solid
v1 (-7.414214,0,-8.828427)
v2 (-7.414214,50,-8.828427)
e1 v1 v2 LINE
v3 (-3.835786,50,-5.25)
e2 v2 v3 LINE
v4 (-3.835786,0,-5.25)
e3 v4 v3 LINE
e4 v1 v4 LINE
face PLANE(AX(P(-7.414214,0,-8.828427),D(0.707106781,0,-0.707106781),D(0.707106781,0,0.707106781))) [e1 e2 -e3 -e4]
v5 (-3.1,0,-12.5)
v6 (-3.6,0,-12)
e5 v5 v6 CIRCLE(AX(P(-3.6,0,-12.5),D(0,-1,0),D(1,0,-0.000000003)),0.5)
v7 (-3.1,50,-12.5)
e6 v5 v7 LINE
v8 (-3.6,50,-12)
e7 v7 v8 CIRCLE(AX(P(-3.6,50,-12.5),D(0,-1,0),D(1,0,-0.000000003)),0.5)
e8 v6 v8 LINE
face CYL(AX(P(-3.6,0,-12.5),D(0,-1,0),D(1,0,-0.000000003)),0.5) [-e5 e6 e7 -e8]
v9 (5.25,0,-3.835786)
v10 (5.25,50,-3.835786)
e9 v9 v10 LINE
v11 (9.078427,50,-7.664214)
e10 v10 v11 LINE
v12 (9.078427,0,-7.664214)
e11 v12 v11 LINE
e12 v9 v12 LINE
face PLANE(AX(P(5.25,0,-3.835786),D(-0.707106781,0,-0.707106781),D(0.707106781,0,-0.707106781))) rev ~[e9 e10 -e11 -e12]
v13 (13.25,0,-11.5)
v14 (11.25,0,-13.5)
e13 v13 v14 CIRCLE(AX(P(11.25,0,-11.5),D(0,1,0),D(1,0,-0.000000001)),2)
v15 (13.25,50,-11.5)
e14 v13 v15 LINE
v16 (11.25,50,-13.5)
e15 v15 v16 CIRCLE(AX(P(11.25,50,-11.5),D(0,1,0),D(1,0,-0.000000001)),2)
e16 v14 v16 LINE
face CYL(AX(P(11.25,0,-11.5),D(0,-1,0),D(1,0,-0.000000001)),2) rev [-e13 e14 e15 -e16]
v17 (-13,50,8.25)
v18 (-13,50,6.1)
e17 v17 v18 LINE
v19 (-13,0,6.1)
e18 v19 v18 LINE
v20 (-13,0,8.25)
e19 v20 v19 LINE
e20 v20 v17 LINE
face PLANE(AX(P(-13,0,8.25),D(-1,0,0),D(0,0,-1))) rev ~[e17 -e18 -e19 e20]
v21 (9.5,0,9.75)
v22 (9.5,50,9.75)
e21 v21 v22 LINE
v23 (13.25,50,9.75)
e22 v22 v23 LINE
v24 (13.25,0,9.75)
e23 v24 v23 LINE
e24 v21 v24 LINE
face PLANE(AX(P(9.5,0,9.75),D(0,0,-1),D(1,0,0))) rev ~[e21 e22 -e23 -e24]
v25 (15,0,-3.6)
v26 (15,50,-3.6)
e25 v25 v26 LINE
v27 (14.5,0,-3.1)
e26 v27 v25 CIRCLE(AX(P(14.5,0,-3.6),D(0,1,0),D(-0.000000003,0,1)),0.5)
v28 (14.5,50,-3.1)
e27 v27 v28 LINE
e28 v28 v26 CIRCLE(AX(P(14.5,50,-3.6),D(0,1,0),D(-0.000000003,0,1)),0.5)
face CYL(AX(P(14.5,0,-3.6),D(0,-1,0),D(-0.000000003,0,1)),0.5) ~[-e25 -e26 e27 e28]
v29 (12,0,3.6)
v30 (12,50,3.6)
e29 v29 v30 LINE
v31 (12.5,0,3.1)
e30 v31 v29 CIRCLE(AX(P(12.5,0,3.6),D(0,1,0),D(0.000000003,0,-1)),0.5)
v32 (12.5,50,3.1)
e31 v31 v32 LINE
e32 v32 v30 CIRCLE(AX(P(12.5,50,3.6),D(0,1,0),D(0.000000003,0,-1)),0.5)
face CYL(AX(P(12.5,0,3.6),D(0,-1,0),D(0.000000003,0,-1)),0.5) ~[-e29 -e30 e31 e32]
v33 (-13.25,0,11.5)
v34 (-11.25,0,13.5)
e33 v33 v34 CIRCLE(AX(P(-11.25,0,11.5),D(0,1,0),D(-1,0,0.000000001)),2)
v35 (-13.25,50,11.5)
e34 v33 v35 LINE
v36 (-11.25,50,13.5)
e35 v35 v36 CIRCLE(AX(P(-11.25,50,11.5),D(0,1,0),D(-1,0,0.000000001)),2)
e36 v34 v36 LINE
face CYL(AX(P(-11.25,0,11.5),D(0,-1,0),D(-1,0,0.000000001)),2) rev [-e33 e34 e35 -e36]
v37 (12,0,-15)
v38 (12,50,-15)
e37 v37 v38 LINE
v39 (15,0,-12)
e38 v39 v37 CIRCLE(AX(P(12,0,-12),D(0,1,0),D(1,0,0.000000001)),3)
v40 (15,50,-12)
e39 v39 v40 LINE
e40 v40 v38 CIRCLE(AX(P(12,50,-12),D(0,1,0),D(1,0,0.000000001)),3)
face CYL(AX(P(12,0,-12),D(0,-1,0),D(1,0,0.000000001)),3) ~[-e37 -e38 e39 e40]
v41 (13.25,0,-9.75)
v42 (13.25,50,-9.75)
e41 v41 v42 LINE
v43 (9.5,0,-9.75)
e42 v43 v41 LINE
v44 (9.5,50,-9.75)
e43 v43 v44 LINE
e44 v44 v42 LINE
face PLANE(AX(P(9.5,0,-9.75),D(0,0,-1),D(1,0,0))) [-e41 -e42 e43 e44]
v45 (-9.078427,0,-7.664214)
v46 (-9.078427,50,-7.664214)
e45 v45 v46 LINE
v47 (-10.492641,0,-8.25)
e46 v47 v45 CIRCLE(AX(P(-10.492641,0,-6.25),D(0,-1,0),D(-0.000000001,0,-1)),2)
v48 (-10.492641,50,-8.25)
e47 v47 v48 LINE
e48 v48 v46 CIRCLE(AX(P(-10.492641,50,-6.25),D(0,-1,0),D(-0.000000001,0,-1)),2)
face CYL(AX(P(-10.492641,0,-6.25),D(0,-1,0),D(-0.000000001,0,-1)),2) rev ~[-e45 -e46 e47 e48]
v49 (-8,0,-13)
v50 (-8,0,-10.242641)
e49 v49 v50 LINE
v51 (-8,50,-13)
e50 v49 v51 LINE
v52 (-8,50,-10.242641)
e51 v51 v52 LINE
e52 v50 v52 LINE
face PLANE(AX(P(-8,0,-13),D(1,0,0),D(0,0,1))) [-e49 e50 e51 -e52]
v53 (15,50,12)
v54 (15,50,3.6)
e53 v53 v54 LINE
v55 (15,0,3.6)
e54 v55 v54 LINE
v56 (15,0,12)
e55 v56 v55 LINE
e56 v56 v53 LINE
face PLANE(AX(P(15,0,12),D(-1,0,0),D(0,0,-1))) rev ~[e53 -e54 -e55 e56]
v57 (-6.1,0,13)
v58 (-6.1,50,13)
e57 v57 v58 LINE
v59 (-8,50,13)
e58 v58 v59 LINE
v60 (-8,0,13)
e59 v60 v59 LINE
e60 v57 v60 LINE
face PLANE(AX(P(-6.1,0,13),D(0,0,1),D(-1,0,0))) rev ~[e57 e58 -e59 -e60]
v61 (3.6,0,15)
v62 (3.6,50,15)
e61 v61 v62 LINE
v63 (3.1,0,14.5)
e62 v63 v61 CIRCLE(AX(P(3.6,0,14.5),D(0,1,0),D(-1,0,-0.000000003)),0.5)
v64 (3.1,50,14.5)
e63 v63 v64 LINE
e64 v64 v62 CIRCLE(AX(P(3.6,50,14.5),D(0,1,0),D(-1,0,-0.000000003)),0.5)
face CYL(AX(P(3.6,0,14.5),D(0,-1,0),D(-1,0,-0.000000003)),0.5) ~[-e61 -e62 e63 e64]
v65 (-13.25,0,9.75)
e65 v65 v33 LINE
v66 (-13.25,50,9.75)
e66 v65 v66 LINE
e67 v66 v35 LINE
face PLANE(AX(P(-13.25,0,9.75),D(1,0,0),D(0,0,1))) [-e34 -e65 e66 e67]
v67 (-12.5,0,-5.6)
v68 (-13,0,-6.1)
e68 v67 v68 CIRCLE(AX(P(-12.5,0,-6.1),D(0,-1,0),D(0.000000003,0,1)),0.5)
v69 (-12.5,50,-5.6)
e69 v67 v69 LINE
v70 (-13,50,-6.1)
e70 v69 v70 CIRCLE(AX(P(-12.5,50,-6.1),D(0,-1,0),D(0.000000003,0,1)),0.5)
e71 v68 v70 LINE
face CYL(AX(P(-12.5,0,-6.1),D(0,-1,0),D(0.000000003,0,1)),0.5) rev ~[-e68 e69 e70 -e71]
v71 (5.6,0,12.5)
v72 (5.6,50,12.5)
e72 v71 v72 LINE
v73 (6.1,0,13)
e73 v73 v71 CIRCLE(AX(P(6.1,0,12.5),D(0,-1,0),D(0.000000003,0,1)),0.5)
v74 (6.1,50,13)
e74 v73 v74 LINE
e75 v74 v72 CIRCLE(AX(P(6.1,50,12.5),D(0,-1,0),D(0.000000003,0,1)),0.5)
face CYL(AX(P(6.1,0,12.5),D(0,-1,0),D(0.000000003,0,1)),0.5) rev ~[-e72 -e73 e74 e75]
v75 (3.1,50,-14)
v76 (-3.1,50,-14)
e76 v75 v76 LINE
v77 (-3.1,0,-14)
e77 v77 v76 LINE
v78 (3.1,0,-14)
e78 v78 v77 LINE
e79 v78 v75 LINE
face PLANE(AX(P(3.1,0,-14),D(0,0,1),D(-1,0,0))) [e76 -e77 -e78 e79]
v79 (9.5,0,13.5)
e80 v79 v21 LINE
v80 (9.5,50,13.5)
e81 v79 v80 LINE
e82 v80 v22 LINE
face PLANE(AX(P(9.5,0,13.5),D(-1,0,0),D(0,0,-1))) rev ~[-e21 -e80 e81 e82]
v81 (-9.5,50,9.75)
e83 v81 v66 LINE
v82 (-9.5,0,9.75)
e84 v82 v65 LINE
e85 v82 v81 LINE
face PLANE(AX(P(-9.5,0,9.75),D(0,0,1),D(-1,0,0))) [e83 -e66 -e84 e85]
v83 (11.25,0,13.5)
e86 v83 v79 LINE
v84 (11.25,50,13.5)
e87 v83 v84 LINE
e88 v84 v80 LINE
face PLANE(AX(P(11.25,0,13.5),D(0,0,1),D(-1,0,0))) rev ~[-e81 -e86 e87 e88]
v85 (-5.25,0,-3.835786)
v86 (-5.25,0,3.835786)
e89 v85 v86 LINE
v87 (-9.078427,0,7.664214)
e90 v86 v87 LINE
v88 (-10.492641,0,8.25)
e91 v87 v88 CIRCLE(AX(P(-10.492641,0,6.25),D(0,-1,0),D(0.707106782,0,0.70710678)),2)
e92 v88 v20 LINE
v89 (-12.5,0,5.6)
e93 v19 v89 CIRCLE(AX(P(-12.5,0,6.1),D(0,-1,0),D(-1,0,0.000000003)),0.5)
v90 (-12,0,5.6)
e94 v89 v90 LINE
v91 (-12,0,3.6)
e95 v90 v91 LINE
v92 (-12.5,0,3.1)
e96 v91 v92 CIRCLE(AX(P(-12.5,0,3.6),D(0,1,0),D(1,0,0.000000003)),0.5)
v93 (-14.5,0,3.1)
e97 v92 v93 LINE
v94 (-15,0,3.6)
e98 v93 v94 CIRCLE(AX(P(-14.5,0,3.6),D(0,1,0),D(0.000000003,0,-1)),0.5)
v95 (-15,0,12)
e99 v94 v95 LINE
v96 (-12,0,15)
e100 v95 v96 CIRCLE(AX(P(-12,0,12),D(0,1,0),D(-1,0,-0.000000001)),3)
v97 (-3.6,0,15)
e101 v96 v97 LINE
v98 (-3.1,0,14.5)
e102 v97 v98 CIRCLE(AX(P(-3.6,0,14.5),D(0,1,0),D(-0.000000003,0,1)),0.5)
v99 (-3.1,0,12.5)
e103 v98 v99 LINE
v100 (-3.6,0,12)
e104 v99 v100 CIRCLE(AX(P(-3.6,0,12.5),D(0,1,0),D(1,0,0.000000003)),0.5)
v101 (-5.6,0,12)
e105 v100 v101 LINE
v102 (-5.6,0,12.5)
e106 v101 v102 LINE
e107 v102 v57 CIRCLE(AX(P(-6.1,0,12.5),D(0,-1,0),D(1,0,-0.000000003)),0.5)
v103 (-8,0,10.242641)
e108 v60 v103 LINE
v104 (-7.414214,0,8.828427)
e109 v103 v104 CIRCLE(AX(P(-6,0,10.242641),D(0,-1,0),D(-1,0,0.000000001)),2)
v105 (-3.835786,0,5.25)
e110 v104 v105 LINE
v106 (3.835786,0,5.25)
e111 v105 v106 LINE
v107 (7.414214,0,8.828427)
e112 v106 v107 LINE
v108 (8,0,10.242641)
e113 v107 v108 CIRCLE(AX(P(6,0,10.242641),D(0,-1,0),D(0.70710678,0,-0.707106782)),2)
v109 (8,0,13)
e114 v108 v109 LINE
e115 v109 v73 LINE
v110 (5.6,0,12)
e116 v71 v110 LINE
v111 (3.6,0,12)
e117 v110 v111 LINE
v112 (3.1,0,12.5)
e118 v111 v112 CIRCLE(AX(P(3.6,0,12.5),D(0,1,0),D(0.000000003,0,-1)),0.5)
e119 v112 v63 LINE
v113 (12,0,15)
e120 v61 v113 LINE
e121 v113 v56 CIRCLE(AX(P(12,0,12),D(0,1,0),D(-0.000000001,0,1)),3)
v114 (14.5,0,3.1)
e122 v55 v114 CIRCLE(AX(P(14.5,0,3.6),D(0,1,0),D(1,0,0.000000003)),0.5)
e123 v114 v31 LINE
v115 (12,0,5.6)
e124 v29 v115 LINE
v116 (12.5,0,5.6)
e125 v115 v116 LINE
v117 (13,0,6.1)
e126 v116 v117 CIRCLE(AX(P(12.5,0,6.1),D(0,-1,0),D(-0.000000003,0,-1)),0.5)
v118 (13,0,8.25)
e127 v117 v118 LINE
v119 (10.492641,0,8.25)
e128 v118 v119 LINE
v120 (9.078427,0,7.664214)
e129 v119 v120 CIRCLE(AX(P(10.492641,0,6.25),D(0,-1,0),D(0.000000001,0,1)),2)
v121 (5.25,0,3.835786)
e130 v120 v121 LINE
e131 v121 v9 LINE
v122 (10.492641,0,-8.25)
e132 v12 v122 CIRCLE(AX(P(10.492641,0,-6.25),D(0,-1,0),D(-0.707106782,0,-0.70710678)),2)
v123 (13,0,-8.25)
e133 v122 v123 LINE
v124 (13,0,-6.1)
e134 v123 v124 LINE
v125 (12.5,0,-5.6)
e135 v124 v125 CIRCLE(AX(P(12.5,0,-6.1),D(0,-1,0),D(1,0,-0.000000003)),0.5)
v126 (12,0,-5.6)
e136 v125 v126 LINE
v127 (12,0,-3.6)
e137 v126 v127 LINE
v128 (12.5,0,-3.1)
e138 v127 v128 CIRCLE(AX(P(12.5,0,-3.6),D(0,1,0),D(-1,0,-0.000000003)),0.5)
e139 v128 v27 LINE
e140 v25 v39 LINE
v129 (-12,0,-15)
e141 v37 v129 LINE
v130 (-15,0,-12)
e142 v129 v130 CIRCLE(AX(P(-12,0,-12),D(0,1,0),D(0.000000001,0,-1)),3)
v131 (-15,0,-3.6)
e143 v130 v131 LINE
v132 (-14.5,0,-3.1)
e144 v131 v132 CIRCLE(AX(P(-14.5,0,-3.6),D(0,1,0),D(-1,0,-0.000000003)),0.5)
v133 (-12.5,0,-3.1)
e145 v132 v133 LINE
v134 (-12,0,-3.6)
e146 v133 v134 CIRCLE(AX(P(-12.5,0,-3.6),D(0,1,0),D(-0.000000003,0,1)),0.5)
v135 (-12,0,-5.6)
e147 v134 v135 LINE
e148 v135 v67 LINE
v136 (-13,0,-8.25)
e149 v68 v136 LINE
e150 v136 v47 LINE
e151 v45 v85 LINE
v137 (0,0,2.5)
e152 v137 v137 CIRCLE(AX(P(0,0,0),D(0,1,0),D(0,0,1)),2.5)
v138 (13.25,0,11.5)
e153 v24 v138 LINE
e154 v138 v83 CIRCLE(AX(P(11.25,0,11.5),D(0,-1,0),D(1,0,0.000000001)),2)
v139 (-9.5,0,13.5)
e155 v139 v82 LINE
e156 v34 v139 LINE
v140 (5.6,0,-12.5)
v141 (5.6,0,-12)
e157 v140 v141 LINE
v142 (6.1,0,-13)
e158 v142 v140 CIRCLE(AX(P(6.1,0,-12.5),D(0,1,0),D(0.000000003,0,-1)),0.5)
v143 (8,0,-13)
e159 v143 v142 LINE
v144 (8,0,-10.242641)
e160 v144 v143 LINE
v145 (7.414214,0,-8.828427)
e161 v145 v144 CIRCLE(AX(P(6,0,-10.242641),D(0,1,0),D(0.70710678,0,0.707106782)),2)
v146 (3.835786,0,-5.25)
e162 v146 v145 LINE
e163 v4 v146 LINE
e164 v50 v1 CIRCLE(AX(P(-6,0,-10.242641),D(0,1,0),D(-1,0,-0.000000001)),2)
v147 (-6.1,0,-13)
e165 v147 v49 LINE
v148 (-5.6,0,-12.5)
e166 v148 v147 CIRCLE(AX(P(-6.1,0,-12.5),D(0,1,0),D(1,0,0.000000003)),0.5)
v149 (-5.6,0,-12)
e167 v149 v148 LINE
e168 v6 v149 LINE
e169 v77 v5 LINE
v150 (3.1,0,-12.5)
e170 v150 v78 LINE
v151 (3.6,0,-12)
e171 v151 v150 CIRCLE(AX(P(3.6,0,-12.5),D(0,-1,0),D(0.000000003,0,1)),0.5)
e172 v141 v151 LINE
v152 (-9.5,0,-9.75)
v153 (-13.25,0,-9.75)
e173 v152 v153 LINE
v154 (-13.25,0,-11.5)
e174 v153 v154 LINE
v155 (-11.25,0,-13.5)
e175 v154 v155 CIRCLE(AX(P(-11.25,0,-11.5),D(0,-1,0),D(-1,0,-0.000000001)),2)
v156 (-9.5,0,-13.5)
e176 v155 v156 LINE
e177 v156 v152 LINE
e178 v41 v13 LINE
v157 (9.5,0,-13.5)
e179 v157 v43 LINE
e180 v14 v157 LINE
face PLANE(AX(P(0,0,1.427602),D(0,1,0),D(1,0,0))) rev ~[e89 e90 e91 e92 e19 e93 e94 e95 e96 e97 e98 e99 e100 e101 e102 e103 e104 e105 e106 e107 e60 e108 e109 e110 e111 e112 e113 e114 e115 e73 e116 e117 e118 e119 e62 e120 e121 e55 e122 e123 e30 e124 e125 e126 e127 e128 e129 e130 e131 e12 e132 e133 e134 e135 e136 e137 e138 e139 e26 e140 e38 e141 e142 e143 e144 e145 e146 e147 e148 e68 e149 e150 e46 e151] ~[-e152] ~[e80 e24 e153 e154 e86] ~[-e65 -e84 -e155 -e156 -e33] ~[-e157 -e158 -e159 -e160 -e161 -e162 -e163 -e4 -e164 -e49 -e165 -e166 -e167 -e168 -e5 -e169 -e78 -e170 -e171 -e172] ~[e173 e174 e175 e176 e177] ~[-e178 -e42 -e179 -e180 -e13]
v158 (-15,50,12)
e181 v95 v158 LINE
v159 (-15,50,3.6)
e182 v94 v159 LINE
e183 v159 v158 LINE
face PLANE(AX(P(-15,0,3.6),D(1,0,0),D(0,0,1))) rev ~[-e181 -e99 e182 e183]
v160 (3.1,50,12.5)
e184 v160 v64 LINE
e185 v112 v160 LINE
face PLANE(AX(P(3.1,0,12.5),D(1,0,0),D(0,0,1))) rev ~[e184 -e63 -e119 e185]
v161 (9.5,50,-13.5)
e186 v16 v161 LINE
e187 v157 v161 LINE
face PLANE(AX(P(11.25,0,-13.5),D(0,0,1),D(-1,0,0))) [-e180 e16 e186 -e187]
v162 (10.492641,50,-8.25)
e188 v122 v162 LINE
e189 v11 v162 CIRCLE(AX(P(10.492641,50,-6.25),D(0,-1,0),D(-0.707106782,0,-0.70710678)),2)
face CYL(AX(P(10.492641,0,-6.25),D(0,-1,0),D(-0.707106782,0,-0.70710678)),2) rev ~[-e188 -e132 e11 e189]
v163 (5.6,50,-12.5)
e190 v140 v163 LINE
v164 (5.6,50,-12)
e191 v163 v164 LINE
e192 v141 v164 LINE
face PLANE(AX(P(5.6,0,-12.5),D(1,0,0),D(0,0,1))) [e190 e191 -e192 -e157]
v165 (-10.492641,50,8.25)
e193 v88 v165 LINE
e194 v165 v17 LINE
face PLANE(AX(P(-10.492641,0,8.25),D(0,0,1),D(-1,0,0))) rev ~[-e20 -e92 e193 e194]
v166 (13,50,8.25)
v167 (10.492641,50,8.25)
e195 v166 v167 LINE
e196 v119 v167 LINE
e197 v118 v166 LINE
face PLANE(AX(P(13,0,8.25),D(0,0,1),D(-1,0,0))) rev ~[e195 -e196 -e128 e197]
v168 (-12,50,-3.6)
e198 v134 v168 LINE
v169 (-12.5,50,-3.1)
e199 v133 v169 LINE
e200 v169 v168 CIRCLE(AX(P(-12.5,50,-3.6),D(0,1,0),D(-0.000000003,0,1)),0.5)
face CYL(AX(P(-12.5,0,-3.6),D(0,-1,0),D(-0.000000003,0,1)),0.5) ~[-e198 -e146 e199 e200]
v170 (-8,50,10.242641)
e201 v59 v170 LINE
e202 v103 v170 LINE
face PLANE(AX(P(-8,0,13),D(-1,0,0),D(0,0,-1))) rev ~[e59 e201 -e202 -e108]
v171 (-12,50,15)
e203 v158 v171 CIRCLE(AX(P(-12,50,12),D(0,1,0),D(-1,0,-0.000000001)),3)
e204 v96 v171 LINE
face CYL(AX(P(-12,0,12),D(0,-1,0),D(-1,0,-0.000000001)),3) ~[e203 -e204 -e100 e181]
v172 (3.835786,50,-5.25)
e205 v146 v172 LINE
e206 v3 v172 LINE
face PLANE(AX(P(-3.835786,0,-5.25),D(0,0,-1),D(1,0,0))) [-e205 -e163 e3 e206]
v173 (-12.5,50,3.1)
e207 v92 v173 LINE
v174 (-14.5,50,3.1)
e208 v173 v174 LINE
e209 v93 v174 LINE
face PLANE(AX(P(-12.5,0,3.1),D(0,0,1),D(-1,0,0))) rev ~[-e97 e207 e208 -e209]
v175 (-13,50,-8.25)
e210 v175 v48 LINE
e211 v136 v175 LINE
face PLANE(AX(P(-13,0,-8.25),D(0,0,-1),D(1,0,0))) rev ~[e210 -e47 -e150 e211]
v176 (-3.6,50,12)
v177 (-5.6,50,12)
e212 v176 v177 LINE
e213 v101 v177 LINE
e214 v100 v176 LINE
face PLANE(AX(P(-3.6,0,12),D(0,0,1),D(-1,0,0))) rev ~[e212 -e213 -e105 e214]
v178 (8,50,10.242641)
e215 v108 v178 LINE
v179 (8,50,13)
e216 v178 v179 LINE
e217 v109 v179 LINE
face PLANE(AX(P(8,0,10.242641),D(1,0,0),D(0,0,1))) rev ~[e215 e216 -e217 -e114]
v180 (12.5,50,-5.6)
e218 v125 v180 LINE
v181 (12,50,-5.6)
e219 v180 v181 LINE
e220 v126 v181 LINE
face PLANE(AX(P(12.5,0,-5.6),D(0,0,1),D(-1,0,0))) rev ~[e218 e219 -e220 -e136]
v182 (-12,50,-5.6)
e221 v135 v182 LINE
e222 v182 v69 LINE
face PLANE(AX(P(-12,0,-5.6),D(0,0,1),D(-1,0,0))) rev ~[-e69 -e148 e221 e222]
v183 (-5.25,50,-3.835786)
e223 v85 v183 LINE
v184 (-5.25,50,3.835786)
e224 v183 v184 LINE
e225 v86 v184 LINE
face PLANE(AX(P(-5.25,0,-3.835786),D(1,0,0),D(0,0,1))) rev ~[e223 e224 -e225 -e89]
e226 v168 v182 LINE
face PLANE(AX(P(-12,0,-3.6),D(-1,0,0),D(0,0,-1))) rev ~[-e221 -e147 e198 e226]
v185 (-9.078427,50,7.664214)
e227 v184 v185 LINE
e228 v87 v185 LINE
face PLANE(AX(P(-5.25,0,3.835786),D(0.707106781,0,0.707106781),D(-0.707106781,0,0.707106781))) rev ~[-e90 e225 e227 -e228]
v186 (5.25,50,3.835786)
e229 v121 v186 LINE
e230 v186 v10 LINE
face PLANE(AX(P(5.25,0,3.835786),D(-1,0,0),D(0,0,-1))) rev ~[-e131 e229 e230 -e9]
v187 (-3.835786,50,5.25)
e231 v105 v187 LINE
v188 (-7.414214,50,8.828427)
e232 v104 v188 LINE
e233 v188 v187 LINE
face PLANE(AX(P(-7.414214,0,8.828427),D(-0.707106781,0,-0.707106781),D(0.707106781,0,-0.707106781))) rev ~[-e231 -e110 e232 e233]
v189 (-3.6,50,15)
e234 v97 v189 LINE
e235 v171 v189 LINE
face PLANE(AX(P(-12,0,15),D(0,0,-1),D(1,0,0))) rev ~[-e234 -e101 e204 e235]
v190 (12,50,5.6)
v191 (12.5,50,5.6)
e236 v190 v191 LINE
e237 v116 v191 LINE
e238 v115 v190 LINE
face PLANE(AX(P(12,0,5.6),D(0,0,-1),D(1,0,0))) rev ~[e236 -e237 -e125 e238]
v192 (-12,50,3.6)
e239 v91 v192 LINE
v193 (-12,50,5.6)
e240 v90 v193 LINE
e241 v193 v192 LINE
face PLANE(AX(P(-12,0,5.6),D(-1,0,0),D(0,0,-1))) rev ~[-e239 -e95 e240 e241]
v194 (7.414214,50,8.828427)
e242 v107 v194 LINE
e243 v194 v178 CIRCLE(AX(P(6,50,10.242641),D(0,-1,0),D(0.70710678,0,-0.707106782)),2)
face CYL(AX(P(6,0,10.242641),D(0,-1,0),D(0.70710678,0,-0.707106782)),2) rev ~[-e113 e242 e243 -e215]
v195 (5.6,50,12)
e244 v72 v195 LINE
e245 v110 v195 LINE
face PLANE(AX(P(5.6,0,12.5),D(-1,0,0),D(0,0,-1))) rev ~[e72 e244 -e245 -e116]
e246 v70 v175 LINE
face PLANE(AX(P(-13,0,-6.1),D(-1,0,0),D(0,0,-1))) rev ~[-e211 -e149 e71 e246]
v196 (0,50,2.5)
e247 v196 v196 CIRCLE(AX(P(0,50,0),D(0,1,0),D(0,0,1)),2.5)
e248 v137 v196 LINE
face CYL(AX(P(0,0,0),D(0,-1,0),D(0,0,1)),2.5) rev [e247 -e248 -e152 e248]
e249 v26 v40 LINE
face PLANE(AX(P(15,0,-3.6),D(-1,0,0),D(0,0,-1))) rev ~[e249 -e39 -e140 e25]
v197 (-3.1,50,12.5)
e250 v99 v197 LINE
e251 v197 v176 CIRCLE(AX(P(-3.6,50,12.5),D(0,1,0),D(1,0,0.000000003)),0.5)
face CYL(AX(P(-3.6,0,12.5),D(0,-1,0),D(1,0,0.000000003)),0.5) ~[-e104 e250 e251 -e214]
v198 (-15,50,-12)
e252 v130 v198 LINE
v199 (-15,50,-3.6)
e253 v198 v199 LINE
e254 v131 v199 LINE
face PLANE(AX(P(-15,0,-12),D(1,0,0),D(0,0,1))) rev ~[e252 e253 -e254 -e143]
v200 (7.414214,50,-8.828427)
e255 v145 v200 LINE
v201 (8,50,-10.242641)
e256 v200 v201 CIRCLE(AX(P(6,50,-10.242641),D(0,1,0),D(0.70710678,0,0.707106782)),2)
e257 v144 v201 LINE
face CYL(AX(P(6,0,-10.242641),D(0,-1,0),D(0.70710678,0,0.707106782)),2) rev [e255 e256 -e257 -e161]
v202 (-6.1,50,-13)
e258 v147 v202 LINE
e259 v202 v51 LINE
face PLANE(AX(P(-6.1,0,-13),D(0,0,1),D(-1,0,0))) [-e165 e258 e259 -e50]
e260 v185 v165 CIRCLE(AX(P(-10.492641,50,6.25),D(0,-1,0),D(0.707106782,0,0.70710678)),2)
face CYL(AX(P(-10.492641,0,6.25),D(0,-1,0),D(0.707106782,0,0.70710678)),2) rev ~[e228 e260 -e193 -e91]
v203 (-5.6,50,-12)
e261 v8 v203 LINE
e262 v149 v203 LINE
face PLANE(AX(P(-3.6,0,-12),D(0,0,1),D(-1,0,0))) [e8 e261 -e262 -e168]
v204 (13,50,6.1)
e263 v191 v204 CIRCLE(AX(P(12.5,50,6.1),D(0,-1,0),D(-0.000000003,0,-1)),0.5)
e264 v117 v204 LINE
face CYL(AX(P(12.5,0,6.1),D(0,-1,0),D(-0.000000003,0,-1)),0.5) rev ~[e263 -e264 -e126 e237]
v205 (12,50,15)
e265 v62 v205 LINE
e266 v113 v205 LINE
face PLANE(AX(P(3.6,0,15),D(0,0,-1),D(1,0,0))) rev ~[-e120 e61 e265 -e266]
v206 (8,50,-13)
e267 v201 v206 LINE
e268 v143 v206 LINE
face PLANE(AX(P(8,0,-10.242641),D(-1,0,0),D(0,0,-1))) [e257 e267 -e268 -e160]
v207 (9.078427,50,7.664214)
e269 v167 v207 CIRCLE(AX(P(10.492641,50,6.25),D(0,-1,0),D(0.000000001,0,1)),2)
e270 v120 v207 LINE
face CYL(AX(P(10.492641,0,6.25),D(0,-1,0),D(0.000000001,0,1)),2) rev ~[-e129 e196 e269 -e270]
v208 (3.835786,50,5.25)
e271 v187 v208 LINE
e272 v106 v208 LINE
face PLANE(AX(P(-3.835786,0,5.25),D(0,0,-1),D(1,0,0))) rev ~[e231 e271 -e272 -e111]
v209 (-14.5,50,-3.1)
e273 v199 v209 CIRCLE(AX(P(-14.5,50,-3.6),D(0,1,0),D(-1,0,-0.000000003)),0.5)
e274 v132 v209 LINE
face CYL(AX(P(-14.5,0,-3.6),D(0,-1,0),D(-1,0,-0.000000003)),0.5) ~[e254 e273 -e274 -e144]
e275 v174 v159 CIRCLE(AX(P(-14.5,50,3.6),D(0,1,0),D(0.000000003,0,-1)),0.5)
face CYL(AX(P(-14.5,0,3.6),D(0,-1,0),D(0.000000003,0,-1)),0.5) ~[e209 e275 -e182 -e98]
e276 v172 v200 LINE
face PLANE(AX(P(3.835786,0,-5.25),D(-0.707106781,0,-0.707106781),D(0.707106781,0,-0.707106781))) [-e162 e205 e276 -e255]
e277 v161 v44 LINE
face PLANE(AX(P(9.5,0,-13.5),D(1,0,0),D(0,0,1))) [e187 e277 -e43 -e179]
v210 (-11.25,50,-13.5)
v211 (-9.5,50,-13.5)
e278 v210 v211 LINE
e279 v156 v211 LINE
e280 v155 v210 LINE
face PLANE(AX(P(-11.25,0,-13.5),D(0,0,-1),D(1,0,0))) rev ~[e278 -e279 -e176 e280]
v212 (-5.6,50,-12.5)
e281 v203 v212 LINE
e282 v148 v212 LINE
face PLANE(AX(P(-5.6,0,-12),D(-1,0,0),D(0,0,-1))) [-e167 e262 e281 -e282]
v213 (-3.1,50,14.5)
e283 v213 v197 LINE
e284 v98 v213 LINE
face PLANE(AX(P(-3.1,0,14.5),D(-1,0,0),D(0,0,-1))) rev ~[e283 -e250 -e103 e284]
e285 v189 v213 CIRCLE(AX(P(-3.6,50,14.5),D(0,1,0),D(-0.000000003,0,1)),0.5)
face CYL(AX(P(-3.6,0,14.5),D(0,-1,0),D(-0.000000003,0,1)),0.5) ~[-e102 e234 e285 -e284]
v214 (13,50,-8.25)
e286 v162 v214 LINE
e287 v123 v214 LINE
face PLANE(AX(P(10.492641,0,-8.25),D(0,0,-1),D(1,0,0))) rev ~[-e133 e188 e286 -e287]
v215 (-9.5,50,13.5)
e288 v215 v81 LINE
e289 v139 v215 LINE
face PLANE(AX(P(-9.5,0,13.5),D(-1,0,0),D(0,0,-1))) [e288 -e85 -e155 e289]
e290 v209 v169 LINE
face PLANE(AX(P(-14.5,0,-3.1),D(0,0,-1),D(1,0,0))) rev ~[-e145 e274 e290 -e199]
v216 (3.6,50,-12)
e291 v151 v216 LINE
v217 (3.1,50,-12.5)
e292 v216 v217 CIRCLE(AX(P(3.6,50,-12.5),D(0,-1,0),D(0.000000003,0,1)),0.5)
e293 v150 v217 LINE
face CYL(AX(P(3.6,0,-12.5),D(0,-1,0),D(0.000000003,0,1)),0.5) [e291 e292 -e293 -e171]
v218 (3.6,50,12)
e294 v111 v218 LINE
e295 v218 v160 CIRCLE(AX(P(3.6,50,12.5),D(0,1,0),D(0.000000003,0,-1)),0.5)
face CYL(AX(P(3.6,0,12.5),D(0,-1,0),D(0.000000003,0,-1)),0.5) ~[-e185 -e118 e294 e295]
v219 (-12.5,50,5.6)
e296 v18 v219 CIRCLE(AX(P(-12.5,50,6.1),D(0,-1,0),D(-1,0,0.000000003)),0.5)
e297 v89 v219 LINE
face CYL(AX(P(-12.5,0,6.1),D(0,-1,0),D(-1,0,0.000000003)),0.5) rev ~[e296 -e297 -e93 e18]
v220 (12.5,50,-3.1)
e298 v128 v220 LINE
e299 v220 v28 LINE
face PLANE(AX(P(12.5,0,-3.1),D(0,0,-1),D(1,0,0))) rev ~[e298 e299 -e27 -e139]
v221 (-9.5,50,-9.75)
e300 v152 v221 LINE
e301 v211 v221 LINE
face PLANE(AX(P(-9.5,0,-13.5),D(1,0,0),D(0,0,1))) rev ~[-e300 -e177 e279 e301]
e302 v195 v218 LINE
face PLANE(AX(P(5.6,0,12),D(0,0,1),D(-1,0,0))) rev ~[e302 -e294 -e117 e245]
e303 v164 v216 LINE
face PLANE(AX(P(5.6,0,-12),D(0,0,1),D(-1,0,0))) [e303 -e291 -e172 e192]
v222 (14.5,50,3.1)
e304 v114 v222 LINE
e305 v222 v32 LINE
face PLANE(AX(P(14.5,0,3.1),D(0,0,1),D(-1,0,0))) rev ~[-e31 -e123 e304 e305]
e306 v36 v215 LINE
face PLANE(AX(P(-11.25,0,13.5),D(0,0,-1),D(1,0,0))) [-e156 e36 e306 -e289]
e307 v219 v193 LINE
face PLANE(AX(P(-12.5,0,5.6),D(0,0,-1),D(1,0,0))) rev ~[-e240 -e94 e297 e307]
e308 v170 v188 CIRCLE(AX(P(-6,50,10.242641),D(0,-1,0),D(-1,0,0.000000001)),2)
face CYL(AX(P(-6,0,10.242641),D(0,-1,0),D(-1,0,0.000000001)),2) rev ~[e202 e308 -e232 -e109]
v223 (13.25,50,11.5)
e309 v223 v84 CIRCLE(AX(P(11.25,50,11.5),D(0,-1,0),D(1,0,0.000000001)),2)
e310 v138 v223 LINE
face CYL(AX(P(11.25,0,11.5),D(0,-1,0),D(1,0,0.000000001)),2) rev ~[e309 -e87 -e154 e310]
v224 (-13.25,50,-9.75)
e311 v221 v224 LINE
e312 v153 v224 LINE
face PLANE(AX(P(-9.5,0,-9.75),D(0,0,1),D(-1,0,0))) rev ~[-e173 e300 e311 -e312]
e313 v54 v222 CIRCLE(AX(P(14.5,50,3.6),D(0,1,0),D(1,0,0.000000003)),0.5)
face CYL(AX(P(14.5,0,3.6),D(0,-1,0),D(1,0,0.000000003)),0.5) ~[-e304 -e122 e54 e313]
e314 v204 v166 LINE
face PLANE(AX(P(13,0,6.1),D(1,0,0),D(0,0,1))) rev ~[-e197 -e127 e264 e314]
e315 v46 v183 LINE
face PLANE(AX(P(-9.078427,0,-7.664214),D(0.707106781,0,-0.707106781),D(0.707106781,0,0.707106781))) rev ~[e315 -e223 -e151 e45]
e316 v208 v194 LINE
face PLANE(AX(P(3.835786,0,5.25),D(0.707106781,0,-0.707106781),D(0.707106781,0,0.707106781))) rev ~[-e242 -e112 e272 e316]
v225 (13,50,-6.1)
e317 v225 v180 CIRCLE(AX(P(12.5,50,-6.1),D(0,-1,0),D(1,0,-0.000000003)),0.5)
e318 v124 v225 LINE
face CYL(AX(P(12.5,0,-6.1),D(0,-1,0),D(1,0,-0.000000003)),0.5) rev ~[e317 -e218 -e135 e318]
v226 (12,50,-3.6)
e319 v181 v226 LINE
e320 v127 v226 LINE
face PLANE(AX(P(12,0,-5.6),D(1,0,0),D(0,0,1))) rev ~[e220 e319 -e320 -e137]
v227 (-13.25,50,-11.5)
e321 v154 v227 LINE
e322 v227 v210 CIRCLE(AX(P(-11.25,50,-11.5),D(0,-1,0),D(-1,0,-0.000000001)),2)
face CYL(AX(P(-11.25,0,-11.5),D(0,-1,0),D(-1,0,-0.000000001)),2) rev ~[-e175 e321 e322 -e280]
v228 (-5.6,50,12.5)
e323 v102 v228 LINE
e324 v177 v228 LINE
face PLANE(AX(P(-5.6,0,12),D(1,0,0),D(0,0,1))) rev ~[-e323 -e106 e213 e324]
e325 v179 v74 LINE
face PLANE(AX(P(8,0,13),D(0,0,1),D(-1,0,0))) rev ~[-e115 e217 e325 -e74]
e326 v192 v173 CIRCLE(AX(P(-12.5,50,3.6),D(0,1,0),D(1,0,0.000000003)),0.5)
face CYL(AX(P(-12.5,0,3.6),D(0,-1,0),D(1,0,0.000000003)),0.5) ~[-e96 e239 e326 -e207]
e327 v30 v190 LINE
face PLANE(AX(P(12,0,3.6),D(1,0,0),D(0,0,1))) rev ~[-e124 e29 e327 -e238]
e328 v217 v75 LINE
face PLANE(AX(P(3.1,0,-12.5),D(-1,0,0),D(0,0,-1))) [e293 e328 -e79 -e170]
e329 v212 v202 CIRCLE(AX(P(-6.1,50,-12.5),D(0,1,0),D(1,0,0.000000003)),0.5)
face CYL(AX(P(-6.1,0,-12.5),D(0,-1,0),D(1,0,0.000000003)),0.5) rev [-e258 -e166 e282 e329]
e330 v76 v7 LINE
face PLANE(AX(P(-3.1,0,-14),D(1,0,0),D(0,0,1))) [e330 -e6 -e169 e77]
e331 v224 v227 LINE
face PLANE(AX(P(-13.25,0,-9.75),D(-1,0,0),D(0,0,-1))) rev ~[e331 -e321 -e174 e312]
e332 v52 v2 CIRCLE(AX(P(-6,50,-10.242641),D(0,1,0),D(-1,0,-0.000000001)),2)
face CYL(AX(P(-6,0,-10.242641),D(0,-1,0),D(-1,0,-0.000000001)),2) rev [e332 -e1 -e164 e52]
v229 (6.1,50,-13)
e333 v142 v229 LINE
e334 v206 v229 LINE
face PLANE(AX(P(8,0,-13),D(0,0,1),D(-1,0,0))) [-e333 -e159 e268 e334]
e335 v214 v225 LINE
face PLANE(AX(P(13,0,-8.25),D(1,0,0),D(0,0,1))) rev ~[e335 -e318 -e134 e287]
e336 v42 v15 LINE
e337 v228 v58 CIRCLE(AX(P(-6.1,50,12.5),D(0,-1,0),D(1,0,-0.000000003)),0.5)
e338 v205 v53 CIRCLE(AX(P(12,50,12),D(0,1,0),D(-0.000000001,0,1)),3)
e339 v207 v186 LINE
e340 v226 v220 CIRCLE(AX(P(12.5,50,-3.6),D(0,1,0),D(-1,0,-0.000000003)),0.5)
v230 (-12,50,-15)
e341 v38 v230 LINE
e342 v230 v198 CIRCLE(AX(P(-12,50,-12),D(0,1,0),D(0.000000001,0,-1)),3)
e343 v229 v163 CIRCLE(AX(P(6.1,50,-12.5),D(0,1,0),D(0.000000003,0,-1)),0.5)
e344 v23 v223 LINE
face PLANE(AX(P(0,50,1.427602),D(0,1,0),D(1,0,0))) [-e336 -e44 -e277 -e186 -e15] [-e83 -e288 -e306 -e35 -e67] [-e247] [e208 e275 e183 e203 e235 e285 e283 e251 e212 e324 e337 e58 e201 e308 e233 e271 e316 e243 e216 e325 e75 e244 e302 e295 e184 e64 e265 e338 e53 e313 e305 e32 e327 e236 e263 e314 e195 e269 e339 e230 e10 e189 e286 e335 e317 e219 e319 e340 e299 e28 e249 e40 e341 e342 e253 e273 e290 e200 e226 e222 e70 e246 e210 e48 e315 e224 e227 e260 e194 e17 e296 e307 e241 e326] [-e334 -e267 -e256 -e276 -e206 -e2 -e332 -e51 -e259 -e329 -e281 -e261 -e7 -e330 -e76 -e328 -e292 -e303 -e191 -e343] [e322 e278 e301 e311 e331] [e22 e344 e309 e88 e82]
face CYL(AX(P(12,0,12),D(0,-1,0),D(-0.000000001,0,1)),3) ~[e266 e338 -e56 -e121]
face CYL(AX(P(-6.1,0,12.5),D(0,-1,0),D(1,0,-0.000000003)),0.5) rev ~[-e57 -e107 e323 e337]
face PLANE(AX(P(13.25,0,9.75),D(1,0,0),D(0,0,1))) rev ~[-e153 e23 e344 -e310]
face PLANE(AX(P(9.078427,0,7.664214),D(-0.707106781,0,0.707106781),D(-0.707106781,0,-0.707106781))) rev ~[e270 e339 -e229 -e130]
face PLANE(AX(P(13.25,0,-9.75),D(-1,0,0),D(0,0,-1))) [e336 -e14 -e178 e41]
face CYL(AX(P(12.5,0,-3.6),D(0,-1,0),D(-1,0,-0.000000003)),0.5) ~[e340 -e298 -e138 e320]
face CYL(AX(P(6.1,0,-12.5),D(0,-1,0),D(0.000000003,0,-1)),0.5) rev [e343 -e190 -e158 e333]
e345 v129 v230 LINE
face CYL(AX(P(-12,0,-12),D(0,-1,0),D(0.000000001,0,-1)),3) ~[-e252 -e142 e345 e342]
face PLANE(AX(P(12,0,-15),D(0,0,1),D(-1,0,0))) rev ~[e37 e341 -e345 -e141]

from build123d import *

# Parameters (mm, degrees)
SKETCH2_R           = 2.5
BOSS_EXTRUDE1_DEPTH = 50


with BuildPart() as part:
    # Sketch2 → Boss-Extrude1 (new body)
    with BuildSketch(Plane(origin=(0, 0, 0), x_dir=(1, 0, 0), z_dir=(0, 1, 0))):
        with BuildLine():
            Line((3.6, -15), (12, -15))
            ThreePointArc((12, -15), (14.121320344, -14.121320344), (15, -12))
            Line((15, -12), (15, -3.6))
            ThreePointArc((15, -3.6), (14.853553391, -3.246446609), (14.5, -3.1))
            Line((14.5, -3.1), (12.5, -3.1))
            ThreePointArc((12.5, -3.1), (12.146446609, -3.246446609), (12, -3.6))
            Line((12, -3.6), (12, -5.6))
            Line((12, -5.6), (12.5, -5.6))
            ThreePointArc((12.5, -5.6), (12.853553391, -5.746446609), (13, -6.1))
            Line((13, -6.1), (13, -8.25))
            Line((13, -8.25), (10.492640687, -8.25))
            ThreePointArc((10.492640687, -8.25), (9.727273822, -8.097759065), (9.078427125, -7.664213562))
            Line((9.078427125, -7.664213562), (5.25, -3.835786438))
            Line((5.25, -3.835786438), (5.25, 3.835786438))
            Line((5.25, 3.835786438), (9.078427125, 7.664213562))
            ThreePointArc((9.078427125, 7.664213562), (9.727273822, 8.097759065), (10.492640687, 8.25))
            Line((10.492640687, 8.25), (13, 8.25))
            Line((13, 8.25), (13, 6.1))
            ThreePointArc((13, 6.1), (12.853553391, 5.746446609), (12.5, 5.6))
            Line((12.5, 5.6), (12, 5.6))
            Line((12, 5.6), (12, 3.6))
            ThreePointArc((12, 3.6), (12.146446609, 3.246446609), (12.5, 3.1))
            Line((12.5, 3.1), (14.5, 3.1))
            ThreePointArc((14.5, 3.1), (14.853553391, 3.246446609), (15, 3.6))
            Line((15, 3.6), (15, 12))
            ThreePointArc((15, 12), (14.121320344, 14.121320344), (12, 15))
            Line((12, 15), (-12, 15))
            ThreePointArc((-12, 15), (-14.121320344, 14.121320344), (-15, 12))
            Line((-15, 12), (-15, 3.6))
            ThreePointArc((-15, 3.6), (-14.853553391, 3.246446609), (-14.5, 3.1))
            Line((-14.5, 3.1), (-12.5, 3.1))
            ThreePointArc((-12.5, 3.1), (-12.146446609, 3.246446609), (-12, 3.6))
            Line((-12, 3.6), (-12, 5.6))
            Line((-12, 5.6), (-12.5, 5.6))
            ThreePointArc((-12.5, 5.6), (-12.853553391, 5.746446609), (-13, 6.1))
            Line((-13, 6.1), (-13, 8.25))
            Line((-13, 8.25), (-10.492640687, 8.25))
            ThreePointArc((-10.492640687, 8.25), (-9.727273822, 8.097759065), (-9.078427125, 7.664213562))
            Line((-9.078427125, 7.664213562), (-5.25, 3.835786438))
            Line((-5.25, 3.835786438), (-5.25, -3.835786438))
            Line((-5.25, -3.835786438), (-9.078427125, -7.664213562))
            ThreePointArc((-9.078427125, -7.664213562), (-9.727273822, -8.097759065), (-10.492640687, -8.25))
            Line((-10.492640687, -8.25), (-13, -8.25))
            Line((-13, -8.25), (-13, -6.1))
            ThreePointArc((-13, -6.1), (-12.853553391, -5.746446609), (-12.5, -5.6))
            Line((-12.5, -5.6), (-12, -5.6))
            Line((-12, -5.6), (-12, -3.6))
            ThreePointArc((-12, -3.6), (-12.146446609, -3.246446609), (-12.5, -3.1))
            Line((-12.5, -3.1), (-14.5, -3.1))
            ThreePointArc((-14.5, -3.1), (-14.853553391, -3.246446609), (-15, -3.6))
            Line((-15, -3.6), (-15, -12))
            ThreePointArc((-15, -12), (-14.121320344, -14.121320344), (-12, -15))
            Line((-12, -15), (-3.6, -15))
            ThreePointArc((-3.6, -15), (-3.246446609, -14.853553391), (-3.1, -14.5))
            Line((-3.1, -14.5), (-3.1, -12.5))
            ThreePointArc((-3.1, -12.5), (-3.246446609, -12.146446609), (-3.6, -12))
            Line((-3.6, -12), (-5.6, -12))
            Line((-5.6, -12), (-5.6, -12.5))
            ThreePointArc((-5.6, -12.5), (-5.746446609, -12.853553391), (-6.1, -13))
            Line((-6.1, -13), (-8, -13))
            Line((-8, -13), (-8, -10.242640687))
            ThreePointArc((-8, -10.242640687), (-7.847759065, -9.477273822), (-7.414213562, -8.828427125))
            Line((-7.414213562, -8.828427125), (-3.835786438, -5.25))
            Line((-3.835786438, -5.25), (3.835786438, -5.25))
            Line((3.835786438, -5.25), (7.414213562, -8.828427125))
            ThreePointArc((7.414213562, -8.828427125), (7.847759065, -9.477273822), (8, -10.242640687))
            Line((8, -10.242640687), (8, -13))
            Line((8, -13), (6.1, -13))
            ThreePointArc((6.1, -13), (5.746446609, -12.853553391), (5.6, -12.5))
            Line((5.6, -12.5), (5.6, -12))
            Line((5.6, -12), (3.6, -12))
            ThreePointArc((3.6, -12), (3.246446609, -12.146446609), (3.1, -12.5))
            Line((3.1, -12.5), (3.1, -14.5))
            ThreePointArc((3.1, -14.5), (3.246446609, -14.853553391), (3.6, -15))
        make_face()
        with Locations(Location((0, 0, 0), (0, 0, 270))):
            Circle(SKETCH2_R, mode=Mode.SUBTRACT)
        with BuildLine():
            Line((-3.835786438, 5.25), (3.835786438, 5.25))
            Line((3.835786438, 5.25), (7.414213562, 8.828427125))
            ThreePointArc((7.414213562, 8.828427125), (7.847759065, 9.477273822), (8, 10.242640687))
            Line((8, 10.242640687), (8, 13))
            Line((8, 13), (6.1, 13))
            ThreePointArc((6.1, 13), (5.746446609, 12.853553391), (5.6, 12.5))
            Line((5.6, 12.5), (5.6, 12))
            Line((5.6, 12), (3.6, 12))
            ThreePointArc((3.6, 12), (3.246446609, 12.146446609), (3.1, 12.5))
            Line((3.1, 12.5), (3.1, 14))
            Line((3.1, 14), (-3.1, 14))
            Line((-3.1, 14), (-3.1, 12.5))
            ThreePointArc((-3.1, 12.5), (-3.246446609, 12.146446609), (-3.6, 12))
            Line((-3.6, 12), (-5.6, 12))
            Line((-5.6, 12), (-5.6, 12.5))
            ThreePointArc((-5.6, 12.5), (-5.746446609, 12.853553391), (-6.1, 13))
            Line((-6.1, 13), (-8, 13))
            Line((-8, 13), (-8, 10.242640687))
            ThreePointArc((-8, 10.242640687), (-7.847759065, 9.477273822), (-7.414213562, 8.828427125))
            Line((-7.414213562, 8.828427125), (-3.835786438, 5.25))
        make_face(mode=Mode.SUBTRACT)
        with BuildLine():
            Line((9.5, -9.75), (13.25, -9.75))
            Line((13.25, -9.75), (13.25, -11.5))
            ThreePointArc((13.25, -11.5), (12.664213562, -12.914213562), (11.25, -13.5))
            Line((11.25, -13.5), (9.5, -13.5))
            Line((9.5, -13.5), (9.5, -9.75))
        make_face(mode=Mode.SUBTRACT)
        with BuildLine():
            Line((-13.25, -9.75), (-13.25, -11.5))
            ThreePointArc((-13.25, -11.5), (-12.664213562, -12.914213562), (-11.25, -13.5))
            Line((-11.25, -13.5), (-9.5, -13.5))
            Line((-9.5, -13.5), (-9.5, -9.75))
            Line((-9.5, -9.75), (-13.25, -9.75))
        make_face(mode=Mode.SUBTRACT)
        with BuildLine():
            Line((-9.5, 9.75), (-13.25, 9.75))
            Line((-13.25, 9.75), (-13.25, 11.5))
            ThreePointArc((-13.25, 11.5), (-12.664213562, 12.914213562), (-11.25, 13.5))
            Line((-11.25, 13.5), (-9.5, 13.5))
            Line((-9.5, 13.5), (-9.5, 9.75))
        make_face(mode=Mode.SUBTRACT)
        with BuildLine():
            Line((13.25, 9.75), (13.25, 11.5))
            ThreePointArc((13.25, 11.5), (12.664213562, 12.914213562), (11.25, 13.5))
            Line((11.25, 13.5), (9.5, 13.5))
            Line((9.5, 13.5), (9.5, 9.75))
            Line((9.5, 9.75), (13.25, 9.75))
        make_face(mode=Mode.SUBTRACT)
    extrude(amount=BOSS_EXTRUDE1_DEPTH)


solid = part.part
